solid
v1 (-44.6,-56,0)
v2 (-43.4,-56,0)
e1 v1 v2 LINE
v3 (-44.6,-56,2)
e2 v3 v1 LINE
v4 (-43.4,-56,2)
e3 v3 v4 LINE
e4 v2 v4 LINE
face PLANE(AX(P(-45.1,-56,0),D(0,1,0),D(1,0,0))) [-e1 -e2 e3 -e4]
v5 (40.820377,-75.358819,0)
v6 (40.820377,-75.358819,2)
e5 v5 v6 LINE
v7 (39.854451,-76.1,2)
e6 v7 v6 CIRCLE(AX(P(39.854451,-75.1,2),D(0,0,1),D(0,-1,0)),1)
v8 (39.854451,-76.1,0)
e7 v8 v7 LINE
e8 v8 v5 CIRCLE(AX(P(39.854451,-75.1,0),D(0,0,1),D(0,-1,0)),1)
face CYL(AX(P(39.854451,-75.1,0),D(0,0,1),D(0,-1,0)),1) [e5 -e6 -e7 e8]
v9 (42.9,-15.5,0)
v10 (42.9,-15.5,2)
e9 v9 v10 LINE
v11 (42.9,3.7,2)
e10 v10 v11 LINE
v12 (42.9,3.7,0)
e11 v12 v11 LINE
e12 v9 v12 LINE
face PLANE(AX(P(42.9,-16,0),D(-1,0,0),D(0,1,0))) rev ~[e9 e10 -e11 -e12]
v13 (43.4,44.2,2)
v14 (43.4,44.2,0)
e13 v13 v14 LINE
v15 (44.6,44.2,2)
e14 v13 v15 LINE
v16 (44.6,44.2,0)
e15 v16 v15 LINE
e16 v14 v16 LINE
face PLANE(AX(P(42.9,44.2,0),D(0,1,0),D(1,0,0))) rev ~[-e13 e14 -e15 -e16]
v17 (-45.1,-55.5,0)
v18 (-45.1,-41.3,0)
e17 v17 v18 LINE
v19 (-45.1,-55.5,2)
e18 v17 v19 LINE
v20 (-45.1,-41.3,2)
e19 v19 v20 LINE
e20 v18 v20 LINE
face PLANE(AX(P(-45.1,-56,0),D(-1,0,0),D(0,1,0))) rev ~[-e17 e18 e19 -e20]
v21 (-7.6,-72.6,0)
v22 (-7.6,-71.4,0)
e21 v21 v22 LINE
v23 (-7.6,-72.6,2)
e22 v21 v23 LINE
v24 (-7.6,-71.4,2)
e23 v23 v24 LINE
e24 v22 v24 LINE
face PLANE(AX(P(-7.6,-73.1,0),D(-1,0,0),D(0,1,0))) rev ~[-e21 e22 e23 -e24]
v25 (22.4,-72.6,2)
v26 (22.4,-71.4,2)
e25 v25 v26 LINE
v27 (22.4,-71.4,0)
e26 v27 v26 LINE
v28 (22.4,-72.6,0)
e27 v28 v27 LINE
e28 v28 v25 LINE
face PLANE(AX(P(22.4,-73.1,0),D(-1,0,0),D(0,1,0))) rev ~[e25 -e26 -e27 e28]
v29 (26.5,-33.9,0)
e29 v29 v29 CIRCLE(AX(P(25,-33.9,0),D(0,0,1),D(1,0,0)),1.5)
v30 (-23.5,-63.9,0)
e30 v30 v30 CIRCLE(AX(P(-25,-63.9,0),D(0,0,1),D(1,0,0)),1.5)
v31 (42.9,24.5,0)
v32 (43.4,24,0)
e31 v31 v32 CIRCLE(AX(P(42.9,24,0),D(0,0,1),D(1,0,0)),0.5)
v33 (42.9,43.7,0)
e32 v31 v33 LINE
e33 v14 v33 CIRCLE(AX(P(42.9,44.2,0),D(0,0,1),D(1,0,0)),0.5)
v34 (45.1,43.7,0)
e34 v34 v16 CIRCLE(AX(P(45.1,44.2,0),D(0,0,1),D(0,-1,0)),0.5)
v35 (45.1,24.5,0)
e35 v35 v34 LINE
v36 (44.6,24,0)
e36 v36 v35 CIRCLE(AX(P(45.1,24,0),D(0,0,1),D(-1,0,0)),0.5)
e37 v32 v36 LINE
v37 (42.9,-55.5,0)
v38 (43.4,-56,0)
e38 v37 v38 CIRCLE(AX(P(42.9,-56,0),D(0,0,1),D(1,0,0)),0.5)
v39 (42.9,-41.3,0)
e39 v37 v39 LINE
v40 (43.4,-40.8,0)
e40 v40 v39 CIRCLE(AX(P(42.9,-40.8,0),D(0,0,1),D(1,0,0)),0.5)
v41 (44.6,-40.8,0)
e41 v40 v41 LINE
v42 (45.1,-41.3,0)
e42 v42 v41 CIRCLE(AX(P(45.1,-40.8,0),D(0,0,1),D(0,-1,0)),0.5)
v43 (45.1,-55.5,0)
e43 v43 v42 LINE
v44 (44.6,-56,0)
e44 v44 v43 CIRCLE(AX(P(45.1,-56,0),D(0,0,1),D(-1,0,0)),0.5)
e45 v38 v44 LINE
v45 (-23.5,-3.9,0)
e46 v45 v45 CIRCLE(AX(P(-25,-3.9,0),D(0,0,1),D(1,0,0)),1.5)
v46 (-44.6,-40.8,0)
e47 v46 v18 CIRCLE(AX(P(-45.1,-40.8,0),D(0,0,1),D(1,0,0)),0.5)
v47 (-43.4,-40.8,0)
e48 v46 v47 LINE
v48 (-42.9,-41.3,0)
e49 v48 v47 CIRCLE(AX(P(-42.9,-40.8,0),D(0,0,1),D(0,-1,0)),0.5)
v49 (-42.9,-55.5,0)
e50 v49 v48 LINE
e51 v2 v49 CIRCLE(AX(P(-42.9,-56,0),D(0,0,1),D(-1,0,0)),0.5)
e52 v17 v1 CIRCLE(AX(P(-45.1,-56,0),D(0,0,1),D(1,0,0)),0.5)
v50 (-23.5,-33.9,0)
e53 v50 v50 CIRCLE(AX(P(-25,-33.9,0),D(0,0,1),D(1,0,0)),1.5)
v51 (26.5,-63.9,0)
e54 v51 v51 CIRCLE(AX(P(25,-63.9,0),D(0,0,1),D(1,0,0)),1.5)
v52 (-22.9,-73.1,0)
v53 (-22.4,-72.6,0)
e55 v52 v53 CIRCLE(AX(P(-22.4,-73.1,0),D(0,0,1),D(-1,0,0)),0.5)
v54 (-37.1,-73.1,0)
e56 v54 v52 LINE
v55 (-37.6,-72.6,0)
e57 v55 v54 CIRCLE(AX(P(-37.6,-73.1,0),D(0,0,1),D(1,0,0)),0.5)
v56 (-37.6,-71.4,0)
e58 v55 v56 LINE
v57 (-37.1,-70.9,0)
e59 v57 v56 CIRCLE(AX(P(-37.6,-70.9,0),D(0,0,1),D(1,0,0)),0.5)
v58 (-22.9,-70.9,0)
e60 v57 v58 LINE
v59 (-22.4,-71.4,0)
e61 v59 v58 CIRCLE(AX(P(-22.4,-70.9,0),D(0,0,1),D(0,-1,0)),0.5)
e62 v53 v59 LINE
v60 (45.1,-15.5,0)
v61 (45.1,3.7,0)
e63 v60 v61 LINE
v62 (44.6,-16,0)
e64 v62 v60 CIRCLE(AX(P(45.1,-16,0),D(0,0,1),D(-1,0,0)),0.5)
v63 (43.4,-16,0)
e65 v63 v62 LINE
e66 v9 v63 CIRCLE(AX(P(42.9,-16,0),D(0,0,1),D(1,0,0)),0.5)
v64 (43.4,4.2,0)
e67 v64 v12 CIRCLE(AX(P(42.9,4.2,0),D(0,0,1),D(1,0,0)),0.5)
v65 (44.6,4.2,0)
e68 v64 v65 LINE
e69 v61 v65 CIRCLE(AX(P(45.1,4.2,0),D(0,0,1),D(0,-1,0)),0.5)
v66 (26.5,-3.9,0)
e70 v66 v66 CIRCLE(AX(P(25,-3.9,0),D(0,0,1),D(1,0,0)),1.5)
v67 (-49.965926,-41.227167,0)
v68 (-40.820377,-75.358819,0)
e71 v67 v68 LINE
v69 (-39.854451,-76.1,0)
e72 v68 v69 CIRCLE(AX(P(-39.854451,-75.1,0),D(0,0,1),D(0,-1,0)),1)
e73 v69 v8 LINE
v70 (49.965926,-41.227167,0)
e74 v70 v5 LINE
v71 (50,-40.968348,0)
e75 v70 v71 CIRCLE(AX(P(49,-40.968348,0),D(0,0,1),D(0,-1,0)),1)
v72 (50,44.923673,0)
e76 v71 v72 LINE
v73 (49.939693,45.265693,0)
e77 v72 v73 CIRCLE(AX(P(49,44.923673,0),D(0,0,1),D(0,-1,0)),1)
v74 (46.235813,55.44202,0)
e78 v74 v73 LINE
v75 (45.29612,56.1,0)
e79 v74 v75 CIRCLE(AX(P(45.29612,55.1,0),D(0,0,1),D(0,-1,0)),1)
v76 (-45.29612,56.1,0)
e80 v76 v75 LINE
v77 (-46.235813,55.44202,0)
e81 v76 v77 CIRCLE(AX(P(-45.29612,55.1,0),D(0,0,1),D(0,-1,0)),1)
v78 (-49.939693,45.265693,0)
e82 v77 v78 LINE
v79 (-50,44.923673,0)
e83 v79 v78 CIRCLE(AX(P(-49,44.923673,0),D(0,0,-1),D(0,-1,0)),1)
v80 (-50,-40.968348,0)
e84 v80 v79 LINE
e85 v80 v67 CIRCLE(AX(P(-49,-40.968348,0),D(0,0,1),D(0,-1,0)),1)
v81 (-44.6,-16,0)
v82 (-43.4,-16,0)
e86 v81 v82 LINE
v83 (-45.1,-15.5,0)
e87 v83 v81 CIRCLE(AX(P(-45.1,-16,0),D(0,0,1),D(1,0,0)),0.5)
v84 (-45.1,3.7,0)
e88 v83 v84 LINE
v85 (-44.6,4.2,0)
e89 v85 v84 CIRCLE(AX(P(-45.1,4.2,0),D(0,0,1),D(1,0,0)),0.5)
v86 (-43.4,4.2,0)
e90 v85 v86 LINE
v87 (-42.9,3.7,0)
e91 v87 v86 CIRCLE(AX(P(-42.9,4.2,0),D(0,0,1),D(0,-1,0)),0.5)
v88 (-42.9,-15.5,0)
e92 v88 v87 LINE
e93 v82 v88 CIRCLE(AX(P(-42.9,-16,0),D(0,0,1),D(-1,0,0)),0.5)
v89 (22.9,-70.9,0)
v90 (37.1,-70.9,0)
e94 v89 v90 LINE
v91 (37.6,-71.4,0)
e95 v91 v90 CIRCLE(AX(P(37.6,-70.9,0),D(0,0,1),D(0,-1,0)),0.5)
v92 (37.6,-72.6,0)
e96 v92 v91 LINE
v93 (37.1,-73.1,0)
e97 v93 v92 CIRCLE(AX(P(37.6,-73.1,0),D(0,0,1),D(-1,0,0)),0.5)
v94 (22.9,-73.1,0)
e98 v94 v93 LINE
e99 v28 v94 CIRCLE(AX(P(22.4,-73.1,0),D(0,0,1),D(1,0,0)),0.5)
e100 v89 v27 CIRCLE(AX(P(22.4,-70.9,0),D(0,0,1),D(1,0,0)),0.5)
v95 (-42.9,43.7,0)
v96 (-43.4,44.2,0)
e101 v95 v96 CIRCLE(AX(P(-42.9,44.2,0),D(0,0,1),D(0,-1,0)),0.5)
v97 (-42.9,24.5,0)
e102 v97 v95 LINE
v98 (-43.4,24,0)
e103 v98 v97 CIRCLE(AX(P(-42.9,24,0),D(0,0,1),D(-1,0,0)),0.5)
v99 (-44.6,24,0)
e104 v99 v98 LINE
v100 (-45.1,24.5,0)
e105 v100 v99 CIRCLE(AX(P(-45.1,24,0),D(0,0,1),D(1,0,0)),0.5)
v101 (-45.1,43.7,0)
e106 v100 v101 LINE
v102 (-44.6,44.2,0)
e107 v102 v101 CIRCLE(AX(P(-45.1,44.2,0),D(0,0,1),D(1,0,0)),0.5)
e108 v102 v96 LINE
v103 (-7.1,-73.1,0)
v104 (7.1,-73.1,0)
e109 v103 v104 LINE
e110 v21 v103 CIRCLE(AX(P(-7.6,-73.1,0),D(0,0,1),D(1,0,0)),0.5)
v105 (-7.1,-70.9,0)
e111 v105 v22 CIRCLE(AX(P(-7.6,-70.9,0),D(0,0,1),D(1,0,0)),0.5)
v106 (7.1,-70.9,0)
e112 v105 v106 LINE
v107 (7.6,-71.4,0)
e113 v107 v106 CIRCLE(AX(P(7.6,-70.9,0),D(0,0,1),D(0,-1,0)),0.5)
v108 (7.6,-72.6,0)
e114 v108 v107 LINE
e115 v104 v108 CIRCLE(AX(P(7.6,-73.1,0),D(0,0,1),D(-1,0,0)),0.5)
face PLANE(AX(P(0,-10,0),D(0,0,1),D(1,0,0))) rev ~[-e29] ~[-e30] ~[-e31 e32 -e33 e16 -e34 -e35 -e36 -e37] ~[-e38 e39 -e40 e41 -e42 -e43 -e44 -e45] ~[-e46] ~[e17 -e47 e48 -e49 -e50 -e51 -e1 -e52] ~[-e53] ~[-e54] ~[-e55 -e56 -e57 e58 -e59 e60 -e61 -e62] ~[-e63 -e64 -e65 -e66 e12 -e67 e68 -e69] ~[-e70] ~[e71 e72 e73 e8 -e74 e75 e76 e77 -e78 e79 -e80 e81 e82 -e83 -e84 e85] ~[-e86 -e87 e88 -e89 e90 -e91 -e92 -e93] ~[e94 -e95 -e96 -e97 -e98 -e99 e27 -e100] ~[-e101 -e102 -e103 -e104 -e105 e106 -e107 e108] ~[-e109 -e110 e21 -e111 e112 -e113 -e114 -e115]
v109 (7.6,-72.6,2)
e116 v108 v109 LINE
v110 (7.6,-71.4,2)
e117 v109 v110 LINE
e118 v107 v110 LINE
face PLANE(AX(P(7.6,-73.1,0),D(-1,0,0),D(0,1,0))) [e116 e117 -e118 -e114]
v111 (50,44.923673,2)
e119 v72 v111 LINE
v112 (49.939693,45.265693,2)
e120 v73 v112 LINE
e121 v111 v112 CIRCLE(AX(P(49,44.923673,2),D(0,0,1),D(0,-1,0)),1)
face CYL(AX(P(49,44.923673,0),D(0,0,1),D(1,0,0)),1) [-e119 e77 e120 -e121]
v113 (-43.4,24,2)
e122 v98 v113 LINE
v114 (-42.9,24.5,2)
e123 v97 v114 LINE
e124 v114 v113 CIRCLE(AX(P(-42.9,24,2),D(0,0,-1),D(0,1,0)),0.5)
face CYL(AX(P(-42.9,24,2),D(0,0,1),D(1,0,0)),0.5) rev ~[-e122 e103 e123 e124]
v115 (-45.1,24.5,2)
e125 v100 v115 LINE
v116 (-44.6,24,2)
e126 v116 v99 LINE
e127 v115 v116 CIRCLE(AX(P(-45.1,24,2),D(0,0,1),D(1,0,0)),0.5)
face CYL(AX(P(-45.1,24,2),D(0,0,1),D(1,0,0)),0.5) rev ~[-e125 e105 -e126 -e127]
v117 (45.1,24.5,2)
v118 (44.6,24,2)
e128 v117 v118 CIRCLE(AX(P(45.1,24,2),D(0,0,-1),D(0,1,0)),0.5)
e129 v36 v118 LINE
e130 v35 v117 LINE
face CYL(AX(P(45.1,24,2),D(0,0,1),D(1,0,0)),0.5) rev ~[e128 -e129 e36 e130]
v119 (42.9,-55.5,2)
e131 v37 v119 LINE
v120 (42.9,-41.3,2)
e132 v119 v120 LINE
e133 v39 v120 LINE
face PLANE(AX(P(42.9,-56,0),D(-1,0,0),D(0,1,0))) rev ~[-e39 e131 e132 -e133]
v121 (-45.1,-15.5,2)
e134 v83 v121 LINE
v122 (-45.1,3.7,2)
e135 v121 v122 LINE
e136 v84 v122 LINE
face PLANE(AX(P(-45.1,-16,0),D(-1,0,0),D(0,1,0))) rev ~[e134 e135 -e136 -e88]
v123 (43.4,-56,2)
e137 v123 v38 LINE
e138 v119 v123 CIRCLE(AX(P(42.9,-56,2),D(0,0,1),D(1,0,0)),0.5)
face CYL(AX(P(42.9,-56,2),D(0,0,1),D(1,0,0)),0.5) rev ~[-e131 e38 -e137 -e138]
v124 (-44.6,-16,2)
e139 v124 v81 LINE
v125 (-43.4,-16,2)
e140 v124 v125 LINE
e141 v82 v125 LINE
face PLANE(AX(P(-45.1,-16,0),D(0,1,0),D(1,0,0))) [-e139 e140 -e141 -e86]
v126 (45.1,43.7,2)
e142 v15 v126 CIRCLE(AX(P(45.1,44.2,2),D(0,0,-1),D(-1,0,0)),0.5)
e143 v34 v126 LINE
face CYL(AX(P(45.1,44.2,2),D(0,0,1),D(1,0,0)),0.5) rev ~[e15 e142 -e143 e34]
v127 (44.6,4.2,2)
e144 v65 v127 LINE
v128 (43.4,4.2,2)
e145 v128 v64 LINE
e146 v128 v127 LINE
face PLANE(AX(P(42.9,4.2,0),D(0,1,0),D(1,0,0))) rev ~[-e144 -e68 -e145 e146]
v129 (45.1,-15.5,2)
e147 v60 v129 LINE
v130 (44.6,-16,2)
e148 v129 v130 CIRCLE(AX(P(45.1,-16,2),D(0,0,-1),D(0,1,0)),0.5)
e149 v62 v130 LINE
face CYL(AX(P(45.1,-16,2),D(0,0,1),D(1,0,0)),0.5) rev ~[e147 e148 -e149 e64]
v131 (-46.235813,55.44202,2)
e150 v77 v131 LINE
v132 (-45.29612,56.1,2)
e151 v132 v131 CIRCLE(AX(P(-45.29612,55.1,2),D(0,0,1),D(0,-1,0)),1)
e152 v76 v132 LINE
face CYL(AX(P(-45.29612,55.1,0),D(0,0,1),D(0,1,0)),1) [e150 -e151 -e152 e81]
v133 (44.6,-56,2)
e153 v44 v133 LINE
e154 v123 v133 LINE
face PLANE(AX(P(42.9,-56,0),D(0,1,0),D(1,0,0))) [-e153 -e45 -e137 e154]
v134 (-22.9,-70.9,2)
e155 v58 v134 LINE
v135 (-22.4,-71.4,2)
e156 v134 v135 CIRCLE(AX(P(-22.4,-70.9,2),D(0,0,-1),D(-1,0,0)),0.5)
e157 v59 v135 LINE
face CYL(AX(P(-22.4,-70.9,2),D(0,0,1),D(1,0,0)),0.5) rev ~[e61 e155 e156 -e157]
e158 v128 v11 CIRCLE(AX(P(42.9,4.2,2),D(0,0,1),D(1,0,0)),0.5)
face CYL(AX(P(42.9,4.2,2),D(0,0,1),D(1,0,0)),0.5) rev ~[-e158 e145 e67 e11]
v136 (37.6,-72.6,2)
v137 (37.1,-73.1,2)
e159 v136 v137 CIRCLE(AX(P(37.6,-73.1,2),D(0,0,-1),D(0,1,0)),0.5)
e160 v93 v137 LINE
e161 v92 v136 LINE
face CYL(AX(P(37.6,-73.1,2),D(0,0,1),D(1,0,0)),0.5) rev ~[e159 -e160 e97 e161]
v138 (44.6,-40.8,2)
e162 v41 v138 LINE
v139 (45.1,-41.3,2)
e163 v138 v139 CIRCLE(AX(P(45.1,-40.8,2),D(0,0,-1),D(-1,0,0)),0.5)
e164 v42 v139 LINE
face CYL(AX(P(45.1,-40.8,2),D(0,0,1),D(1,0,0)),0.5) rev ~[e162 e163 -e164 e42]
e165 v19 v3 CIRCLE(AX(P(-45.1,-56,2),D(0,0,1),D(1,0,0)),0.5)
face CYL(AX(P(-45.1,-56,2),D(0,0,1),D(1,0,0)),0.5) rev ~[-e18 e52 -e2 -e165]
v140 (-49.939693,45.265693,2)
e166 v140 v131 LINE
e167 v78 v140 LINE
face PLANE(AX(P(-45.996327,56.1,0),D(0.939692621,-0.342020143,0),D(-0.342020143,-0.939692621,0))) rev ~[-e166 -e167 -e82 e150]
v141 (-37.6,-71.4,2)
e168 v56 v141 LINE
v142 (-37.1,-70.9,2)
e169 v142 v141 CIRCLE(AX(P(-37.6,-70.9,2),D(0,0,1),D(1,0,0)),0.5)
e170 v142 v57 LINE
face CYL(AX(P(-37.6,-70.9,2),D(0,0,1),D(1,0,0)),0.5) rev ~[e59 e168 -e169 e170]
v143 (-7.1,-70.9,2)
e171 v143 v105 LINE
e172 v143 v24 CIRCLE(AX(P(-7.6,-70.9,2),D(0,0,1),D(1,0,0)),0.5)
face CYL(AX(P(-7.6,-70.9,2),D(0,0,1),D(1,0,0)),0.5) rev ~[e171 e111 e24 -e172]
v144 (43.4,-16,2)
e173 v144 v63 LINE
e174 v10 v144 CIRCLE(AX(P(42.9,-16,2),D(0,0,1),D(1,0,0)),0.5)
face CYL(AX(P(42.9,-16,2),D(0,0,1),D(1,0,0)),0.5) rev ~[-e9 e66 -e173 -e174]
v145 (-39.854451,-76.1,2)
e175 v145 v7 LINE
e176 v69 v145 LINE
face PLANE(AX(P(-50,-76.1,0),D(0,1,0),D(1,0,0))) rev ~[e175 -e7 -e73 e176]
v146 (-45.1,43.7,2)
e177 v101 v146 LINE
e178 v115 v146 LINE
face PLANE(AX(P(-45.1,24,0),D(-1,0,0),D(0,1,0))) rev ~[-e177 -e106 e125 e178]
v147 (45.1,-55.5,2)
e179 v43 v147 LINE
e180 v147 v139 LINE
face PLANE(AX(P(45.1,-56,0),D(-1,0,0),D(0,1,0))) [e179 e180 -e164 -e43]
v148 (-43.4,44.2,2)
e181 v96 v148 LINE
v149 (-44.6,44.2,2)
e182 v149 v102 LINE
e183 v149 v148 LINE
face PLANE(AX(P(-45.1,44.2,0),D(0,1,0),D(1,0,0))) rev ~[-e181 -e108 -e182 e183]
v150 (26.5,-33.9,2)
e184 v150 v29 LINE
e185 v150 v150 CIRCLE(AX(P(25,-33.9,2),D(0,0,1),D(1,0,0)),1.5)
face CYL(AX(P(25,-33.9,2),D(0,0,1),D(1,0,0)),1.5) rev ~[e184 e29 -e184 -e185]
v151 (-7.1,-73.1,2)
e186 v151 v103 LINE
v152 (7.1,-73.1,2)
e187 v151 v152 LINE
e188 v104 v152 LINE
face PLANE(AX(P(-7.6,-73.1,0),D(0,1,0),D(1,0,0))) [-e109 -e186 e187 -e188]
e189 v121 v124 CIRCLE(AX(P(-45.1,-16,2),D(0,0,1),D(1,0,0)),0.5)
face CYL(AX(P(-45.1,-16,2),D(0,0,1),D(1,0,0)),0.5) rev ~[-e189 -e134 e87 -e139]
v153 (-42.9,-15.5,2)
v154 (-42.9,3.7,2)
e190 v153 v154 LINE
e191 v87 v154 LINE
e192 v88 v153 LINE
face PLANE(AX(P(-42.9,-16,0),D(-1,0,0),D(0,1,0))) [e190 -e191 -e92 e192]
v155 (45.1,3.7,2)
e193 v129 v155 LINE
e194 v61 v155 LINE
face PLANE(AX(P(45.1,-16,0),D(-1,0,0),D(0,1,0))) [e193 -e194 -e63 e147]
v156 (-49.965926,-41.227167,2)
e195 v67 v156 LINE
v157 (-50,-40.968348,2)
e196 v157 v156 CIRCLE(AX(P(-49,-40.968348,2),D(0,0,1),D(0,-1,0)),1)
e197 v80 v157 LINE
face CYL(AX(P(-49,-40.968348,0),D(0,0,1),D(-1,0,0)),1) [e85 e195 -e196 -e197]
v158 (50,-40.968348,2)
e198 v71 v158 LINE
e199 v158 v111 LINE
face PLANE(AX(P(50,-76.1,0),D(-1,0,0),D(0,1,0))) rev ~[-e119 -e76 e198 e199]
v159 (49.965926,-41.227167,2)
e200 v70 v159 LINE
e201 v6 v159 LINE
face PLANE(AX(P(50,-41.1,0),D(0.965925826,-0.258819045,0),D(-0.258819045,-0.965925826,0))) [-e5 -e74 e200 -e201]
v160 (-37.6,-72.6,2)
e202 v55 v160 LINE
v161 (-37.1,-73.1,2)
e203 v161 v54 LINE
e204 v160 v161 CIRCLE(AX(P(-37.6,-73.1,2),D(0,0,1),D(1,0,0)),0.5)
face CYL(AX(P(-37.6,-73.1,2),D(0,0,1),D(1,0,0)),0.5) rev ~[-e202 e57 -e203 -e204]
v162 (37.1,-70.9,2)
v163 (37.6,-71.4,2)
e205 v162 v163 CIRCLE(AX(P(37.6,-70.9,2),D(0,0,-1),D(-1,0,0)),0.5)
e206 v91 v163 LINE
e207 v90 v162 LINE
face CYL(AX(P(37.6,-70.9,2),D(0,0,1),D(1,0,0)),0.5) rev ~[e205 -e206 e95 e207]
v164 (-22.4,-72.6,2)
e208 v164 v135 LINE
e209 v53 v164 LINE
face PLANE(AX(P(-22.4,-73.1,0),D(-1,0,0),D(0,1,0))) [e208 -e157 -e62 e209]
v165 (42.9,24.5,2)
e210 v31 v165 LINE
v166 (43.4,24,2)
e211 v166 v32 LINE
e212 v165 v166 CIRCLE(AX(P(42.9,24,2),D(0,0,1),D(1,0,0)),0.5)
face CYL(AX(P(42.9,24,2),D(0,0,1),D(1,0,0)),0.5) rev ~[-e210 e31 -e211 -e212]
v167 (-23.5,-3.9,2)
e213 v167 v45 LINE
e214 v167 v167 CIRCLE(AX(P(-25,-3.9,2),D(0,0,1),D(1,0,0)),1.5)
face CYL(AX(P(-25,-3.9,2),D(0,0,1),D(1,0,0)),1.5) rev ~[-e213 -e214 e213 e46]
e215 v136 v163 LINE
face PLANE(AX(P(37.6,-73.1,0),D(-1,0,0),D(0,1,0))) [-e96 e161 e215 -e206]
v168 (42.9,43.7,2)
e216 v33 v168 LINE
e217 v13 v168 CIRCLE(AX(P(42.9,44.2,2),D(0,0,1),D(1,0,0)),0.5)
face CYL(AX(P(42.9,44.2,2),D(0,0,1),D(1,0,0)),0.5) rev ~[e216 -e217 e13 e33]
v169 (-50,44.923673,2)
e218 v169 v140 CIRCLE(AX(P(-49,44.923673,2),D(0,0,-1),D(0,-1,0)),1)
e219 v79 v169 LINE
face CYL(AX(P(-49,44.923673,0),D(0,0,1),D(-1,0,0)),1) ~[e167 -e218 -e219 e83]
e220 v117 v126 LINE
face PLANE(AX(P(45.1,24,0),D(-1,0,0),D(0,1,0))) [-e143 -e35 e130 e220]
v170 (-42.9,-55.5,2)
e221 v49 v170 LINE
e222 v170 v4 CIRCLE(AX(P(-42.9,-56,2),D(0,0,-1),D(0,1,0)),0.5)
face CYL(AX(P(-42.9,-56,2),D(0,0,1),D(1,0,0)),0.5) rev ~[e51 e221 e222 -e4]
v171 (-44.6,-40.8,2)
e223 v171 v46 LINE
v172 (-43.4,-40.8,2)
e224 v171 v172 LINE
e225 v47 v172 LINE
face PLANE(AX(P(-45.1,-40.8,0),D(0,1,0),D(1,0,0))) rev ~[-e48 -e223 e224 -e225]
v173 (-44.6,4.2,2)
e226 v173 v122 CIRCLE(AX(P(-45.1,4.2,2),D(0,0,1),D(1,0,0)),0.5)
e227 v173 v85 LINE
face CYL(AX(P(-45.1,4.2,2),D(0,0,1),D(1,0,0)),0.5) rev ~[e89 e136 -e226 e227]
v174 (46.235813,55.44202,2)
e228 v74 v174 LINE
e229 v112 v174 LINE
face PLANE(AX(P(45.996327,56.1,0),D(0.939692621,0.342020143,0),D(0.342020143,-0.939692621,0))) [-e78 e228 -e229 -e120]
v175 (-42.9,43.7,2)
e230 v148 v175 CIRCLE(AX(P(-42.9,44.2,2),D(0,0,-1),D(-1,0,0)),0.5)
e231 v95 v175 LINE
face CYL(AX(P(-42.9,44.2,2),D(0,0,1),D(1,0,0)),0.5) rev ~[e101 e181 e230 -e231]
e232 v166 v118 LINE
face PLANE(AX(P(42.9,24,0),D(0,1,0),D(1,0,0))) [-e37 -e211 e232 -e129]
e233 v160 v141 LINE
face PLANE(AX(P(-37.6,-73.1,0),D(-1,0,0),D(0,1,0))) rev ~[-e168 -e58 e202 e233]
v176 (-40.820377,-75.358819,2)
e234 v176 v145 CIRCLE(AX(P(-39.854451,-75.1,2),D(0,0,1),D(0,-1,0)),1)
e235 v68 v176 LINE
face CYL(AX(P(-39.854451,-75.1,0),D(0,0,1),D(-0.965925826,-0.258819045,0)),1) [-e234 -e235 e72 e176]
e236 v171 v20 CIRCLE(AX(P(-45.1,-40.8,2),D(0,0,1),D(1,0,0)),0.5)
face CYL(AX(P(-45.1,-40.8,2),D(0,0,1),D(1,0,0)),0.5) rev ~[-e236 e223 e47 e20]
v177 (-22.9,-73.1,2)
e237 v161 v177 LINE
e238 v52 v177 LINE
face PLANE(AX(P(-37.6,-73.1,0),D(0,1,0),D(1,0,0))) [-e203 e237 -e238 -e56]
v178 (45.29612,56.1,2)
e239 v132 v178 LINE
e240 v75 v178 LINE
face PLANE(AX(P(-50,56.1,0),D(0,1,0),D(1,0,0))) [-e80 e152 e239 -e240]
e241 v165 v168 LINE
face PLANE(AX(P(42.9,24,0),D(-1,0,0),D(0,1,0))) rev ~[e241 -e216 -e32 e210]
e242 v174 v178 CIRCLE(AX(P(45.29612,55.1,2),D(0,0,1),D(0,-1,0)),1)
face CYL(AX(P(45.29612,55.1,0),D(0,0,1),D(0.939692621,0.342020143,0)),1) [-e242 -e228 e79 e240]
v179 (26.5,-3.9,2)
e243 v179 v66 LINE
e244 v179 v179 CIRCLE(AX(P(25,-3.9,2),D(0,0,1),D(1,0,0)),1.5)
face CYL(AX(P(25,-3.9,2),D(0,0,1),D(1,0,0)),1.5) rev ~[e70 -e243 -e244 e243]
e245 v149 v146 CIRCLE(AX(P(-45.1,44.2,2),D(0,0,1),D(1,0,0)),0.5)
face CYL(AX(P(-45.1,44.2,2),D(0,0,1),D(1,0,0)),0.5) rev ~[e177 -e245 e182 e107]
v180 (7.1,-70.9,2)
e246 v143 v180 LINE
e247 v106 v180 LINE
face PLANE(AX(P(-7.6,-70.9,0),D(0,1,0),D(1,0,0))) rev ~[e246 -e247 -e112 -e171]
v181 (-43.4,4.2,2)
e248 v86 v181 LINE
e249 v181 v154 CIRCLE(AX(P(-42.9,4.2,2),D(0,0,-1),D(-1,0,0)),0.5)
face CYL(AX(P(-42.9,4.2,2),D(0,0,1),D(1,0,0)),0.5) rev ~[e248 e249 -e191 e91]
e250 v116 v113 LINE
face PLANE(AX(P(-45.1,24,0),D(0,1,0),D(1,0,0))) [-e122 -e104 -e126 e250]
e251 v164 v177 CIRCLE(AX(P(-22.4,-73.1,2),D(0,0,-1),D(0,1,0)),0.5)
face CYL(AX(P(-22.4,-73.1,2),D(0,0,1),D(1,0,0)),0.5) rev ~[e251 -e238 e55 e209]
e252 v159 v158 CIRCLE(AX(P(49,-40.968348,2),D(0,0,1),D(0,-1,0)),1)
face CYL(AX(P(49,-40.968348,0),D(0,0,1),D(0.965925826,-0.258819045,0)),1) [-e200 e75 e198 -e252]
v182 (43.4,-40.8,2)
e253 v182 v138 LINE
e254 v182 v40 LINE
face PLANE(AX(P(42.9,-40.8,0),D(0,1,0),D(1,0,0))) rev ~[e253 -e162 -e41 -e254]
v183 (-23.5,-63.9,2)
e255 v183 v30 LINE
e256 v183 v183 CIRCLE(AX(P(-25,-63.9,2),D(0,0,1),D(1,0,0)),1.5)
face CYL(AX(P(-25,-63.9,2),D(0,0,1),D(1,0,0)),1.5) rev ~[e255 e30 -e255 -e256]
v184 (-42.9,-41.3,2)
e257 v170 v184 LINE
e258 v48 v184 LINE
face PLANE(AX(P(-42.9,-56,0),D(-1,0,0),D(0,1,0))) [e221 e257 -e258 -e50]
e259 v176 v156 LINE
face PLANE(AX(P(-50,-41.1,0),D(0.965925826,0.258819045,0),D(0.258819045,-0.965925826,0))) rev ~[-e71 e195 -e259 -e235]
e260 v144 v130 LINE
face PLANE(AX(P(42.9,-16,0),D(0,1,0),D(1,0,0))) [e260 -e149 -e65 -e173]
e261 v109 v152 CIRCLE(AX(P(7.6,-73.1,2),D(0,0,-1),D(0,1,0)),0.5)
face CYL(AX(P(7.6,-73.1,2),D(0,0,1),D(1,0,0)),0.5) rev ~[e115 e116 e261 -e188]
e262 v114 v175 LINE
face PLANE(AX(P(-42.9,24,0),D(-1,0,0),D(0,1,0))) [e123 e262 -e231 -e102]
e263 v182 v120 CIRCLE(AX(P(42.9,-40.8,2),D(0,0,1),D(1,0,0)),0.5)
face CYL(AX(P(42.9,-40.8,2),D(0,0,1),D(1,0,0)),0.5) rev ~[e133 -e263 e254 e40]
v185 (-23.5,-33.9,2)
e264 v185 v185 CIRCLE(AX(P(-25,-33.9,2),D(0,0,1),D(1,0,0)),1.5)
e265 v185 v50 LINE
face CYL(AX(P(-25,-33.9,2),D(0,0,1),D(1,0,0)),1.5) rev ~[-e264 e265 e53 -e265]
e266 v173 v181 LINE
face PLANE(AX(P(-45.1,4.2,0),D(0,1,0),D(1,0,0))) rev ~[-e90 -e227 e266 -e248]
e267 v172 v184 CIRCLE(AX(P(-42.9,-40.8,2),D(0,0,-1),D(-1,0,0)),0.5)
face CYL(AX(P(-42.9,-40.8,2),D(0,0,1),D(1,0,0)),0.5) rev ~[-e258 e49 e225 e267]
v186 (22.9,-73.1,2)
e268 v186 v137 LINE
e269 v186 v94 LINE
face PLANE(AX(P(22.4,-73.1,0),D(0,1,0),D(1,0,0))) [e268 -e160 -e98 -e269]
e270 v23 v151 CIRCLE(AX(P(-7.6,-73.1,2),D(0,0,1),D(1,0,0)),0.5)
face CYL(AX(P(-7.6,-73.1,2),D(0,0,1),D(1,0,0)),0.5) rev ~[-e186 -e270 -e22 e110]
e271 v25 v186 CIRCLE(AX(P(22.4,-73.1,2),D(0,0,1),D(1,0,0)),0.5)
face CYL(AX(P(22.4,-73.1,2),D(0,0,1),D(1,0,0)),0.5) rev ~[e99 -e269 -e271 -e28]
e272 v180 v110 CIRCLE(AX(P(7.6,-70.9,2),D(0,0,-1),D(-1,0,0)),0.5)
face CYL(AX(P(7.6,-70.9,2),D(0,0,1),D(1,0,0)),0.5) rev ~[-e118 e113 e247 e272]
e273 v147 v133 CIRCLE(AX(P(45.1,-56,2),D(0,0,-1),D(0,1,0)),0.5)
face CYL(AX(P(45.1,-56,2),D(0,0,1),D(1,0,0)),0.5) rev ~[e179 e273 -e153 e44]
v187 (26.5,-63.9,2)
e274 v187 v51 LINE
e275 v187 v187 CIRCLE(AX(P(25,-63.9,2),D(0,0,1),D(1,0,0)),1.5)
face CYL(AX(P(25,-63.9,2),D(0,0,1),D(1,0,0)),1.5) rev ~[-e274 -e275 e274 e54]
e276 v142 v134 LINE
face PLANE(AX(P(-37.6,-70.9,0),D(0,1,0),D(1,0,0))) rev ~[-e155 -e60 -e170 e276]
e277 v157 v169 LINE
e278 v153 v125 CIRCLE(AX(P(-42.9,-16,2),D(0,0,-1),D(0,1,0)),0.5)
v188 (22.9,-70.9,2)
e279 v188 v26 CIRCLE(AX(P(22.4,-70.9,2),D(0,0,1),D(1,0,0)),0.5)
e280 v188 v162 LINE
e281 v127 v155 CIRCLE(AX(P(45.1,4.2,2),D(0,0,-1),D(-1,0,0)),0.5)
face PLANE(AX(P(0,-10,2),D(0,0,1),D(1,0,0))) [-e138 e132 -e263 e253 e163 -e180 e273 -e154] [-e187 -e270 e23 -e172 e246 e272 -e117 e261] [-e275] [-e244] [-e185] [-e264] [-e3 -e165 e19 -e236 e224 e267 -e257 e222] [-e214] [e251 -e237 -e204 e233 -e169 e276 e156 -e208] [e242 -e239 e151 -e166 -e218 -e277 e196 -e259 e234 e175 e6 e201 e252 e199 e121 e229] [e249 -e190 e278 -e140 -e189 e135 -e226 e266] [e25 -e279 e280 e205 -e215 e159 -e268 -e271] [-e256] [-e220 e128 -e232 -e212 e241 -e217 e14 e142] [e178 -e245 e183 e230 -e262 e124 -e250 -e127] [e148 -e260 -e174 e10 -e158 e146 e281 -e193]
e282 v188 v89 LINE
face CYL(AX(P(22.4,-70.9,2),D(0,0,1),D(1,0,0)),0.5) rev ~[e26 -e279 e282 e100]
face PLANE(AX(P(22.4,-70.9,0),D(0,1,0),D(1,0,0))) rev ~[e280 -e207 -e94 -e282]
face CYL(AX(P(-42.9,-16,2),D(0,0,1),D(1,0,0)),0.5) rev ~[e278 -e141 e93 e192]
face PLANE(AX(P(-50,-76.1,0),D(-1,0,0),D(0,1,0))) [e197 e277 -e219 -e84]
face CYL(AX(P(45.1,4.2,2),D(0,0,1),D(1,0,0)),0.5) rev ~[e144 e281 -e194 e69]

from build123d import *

# Parameters (mm, degrees)
SKETCH_1_W          = 100
SKETCH_1_H          = 132.2
SKETCH_1_W_2        = 15.2
SKETCH_1_H_2        = 2.2
SKETCH_1_W_3        = 2.2
SKETCH_1_H_3        = 15.2
SKETCH_1_H_4        = 20.2
EXTRUDE_1_DEPTH     = 2
CUT_EXTRUDE_1_DEPTH = 3
SKETCH_4_R          = 1.5
CUT_EXTRUDE_2_DEPTH = 10
SKETCH_2_R          = 0.5
CUT_EXTRUDE_3_DEPTH = 3
FILLET_1_R          = 1


with BuildPart() as part:
    # 草图1 → 凸台-拉伸1 (new body)
    with BuildSketch(Plane.XY):
        with Locations((0, -10)):
            Rectangle(SKETCH_1_W, SKETCH_1_H)
        with Locations((-30, -72)):
            Rectangle(SKETCH_1_W_2, SKETCH_1_H_2, mode=Mode.SUBTRACT)
        with Locations((-44, -48.4)):
            Rectangle(SKETCH_1_W_3, SKETCH_1_H_3, mode=Mode.SUBTRACT)
        with Locations((-44, -5.9)):
            Rectangle(SKETCH_1_W_3, SKETCH_1_H_4, mode=Mode.SUBTRACT)
        with Locations((0, -72)):
            Rectangle(SKETCH_1_W_2, SKETCH_1_H_2, mode=Mode.SUBTRACT)
        with Locations((30, -72)):
            Rectangle(SKETCH_1_W_2, SKETCH_1_H_2, mode=Mode.SUBTRACT)
        with Locations((44, -48.4)):
            Rectangle(SKETCH_1_W_3, SKETCH_1_H_3, mode=Mode.SUBTRACT)
        with Locations((44, -5.9)):
            Rectangle(SKETCH_1_W_3, SKETCH_1_H_4, mode=Mode.SUBTRACT)
        with Locations((-44, 34.1)):
            Rectangle(SKETCH_1_W_3, SKETCH_1_H_4, mode=Mode.SUBTRACT)
        with Locations((44, 34.1)):
            Rectangle(SKETCH_1_W_3, SKETCH_1_H_4, mode=Mode.SUBTRACT)
    extrude(amount=EXTRUDE_1_DEPTH)

    # 草图3 → 切除-拉伸1 (cut, through all)
    with BuildSketch(Plane(origin=(0, 0, 0), x_dir=(-1, 0, 0), z_dir=(0, 0, -1))):
        Polygon((50, 45.1), (50, 56.1), (45.996327423, 56.1), align=None)
        Polygon((-50, 45.1), (-50, 56.1), (-45.996327423, 56.1), align=None)
        Polygon((-50, -41.1), (-40.621778265, -76.1), (-50, -76.1), align=None)
        Polygon((40.621778265, -76.1), (50, -76.1), (50, -41.1), align=None)
    extrude(amount=-CUT_EXTRUDE_1_DEPTH, mode=Mode.SUBTRACT)

    # 草图4 → 切除-拉伸2 (cut)
    with BuildSketch(Plane.XY.offset(2)):
        with Locations((-25, -3.9)):
            Circle(SKETCH_4_R)
        with Locations((25, -3.9)):
            Circle(SKETCH_4_R)
        with Locations((-25, -33.9)):
            Circle(SKETCH_4_R)
        with Locations((25, -33.9)):
            Circle(SKETCH_4_R)
        with Locations((25, -63.9)):
            Circle(SKETCH_4_R)
        with Locations((-25, -63.9)):
            Circle(SKETCH_4_R)
    extrude(amount=-CUT_EXTRUDE_2_DEPTH, mode=Mode.SUBTRACT)

    # 草图2 → 切除-拉伸3 (cut, through all)
    with BuildSketch(Plane.XY.offset(2)):
        with Locations((-45.1, 44.2)):
            Circle(SKETCH_2_R)
        with Locations((-42.9, 44.2)):
            Circle(SKETCH_2_R)
        with Locations((-45.1, 24)):
            Circle(SKETCH_2_R)
        with Locations((-42.9, 24)):
            Circle(SKETCH_2_R)
        with Locations((-45.1, 4.2)):
            Circle(SKETCH_2_R)
        with Locations((-42.9, 4.2)):
            Circle(SKETCH_2_R)
        with Locations((-45.1, -16)):
            Circle(SKETCH_2_R)
        with Locations((-42.9, -16)):
            Circle(SKETCH_2_R)
        with Locations((-45.1, -40.8)):
            Circle(SKETCH_2_R)
        with Locations((-42.9, -40.8)):
            Circle(SKETCH_2_R)
        with Locations((-45.1, -56)):
            Circle(SKETCH_2_R)
        with Locations((-42.9, -56)):
            Circle(SKETCH_2_R)
        with Locations((-37.6, -70.9)):
            Circle(SKETCH_2_R)
        with Locations((-37.6, -73.1)):
            Circle(SKETCH_2_R)
        with Locations((-22.4, -70.9)):
            Circle(SKETCH_2_R)
        with Locations((-22.4, -73.1)):
            Circle(SKETCH_2_R)
        with Locations((-7.6, -70.9)):
            Circle(SKETCH_2_R)
        with Locations((-7.6, -73.1)):
            Circle(SKETCH_2_R)
        with Locations((7.6, -73.1)):
            Circle(SKETCH_2_R)
        with Locations((7.6, -70.9)):
            Circle(SKETCH_2_R)
        with Locations((22.4, -73.1)):
            Circle(SKETCH_2_R)
        with Locations((22.4, -70.9)):
            Circle(SKETCH_2_R)
        with Locations((37.6, -73.1)):
            Circle(SKETCH_2_R)
        with Locations((37.6, -70.9)):
            Circle(SKETCH_2_R)
        with Locations((42.9, -56)):
            Circle(SKETCH_2_R)
        with Locations((45.1, -56)):
            Circle(SKETCH_2_R)
        with Locations((42.9, -40.8)):
            Circle(SKETCH_2_R)
        with Locations((45.1, -40.8)):
            Circle(SKETCH_2_R)
        with Locations((42.9, -16)):
            Circle(SKETCH_2_R)
        with Locations((45.1, -16)):
            Circle(SKETCH_2_R)
        with Locations((42.9, 4.2)):
            Circle(SKETCH_2_R)
        with Locations((45.1, 4.2)):
            Circle(SKETCH_2_R)
        with Locations((42.9, 24)):
            Circle(SKETCH_2_R)
        with Locations((45.1, 24)):
            Circle(SKETCH_2_R)
        with Locations((42.9, 44.2)):
            Circle(SKETCH_2_R)
        with Locations((45.1, 44.2)):
            Circle(SKETCH_2_R)
    extrude(amount=-CUT_EXTRUDE_3_DEPTH, mode=Mode.SUBTRACT)

    # 圆角1
    fillet_1_edges = [part.edges().sort_by_distance(p)[0] for p in [
        (-50, 45.1, 1),
        (-45.996327423, 56.1, 1),
        (50, -41.1, 1),
        (40.621778265, -76.1, 1),
        (-40.621778265, -76.1, 1),
        (-50, -41.1, 1),
        (45.996327423, 56.1, 1),
        (50, 45.1, 1),
    ]]
    fillet(fillet_1_edges, radius=FILLET_1_R)


solid = part.part
